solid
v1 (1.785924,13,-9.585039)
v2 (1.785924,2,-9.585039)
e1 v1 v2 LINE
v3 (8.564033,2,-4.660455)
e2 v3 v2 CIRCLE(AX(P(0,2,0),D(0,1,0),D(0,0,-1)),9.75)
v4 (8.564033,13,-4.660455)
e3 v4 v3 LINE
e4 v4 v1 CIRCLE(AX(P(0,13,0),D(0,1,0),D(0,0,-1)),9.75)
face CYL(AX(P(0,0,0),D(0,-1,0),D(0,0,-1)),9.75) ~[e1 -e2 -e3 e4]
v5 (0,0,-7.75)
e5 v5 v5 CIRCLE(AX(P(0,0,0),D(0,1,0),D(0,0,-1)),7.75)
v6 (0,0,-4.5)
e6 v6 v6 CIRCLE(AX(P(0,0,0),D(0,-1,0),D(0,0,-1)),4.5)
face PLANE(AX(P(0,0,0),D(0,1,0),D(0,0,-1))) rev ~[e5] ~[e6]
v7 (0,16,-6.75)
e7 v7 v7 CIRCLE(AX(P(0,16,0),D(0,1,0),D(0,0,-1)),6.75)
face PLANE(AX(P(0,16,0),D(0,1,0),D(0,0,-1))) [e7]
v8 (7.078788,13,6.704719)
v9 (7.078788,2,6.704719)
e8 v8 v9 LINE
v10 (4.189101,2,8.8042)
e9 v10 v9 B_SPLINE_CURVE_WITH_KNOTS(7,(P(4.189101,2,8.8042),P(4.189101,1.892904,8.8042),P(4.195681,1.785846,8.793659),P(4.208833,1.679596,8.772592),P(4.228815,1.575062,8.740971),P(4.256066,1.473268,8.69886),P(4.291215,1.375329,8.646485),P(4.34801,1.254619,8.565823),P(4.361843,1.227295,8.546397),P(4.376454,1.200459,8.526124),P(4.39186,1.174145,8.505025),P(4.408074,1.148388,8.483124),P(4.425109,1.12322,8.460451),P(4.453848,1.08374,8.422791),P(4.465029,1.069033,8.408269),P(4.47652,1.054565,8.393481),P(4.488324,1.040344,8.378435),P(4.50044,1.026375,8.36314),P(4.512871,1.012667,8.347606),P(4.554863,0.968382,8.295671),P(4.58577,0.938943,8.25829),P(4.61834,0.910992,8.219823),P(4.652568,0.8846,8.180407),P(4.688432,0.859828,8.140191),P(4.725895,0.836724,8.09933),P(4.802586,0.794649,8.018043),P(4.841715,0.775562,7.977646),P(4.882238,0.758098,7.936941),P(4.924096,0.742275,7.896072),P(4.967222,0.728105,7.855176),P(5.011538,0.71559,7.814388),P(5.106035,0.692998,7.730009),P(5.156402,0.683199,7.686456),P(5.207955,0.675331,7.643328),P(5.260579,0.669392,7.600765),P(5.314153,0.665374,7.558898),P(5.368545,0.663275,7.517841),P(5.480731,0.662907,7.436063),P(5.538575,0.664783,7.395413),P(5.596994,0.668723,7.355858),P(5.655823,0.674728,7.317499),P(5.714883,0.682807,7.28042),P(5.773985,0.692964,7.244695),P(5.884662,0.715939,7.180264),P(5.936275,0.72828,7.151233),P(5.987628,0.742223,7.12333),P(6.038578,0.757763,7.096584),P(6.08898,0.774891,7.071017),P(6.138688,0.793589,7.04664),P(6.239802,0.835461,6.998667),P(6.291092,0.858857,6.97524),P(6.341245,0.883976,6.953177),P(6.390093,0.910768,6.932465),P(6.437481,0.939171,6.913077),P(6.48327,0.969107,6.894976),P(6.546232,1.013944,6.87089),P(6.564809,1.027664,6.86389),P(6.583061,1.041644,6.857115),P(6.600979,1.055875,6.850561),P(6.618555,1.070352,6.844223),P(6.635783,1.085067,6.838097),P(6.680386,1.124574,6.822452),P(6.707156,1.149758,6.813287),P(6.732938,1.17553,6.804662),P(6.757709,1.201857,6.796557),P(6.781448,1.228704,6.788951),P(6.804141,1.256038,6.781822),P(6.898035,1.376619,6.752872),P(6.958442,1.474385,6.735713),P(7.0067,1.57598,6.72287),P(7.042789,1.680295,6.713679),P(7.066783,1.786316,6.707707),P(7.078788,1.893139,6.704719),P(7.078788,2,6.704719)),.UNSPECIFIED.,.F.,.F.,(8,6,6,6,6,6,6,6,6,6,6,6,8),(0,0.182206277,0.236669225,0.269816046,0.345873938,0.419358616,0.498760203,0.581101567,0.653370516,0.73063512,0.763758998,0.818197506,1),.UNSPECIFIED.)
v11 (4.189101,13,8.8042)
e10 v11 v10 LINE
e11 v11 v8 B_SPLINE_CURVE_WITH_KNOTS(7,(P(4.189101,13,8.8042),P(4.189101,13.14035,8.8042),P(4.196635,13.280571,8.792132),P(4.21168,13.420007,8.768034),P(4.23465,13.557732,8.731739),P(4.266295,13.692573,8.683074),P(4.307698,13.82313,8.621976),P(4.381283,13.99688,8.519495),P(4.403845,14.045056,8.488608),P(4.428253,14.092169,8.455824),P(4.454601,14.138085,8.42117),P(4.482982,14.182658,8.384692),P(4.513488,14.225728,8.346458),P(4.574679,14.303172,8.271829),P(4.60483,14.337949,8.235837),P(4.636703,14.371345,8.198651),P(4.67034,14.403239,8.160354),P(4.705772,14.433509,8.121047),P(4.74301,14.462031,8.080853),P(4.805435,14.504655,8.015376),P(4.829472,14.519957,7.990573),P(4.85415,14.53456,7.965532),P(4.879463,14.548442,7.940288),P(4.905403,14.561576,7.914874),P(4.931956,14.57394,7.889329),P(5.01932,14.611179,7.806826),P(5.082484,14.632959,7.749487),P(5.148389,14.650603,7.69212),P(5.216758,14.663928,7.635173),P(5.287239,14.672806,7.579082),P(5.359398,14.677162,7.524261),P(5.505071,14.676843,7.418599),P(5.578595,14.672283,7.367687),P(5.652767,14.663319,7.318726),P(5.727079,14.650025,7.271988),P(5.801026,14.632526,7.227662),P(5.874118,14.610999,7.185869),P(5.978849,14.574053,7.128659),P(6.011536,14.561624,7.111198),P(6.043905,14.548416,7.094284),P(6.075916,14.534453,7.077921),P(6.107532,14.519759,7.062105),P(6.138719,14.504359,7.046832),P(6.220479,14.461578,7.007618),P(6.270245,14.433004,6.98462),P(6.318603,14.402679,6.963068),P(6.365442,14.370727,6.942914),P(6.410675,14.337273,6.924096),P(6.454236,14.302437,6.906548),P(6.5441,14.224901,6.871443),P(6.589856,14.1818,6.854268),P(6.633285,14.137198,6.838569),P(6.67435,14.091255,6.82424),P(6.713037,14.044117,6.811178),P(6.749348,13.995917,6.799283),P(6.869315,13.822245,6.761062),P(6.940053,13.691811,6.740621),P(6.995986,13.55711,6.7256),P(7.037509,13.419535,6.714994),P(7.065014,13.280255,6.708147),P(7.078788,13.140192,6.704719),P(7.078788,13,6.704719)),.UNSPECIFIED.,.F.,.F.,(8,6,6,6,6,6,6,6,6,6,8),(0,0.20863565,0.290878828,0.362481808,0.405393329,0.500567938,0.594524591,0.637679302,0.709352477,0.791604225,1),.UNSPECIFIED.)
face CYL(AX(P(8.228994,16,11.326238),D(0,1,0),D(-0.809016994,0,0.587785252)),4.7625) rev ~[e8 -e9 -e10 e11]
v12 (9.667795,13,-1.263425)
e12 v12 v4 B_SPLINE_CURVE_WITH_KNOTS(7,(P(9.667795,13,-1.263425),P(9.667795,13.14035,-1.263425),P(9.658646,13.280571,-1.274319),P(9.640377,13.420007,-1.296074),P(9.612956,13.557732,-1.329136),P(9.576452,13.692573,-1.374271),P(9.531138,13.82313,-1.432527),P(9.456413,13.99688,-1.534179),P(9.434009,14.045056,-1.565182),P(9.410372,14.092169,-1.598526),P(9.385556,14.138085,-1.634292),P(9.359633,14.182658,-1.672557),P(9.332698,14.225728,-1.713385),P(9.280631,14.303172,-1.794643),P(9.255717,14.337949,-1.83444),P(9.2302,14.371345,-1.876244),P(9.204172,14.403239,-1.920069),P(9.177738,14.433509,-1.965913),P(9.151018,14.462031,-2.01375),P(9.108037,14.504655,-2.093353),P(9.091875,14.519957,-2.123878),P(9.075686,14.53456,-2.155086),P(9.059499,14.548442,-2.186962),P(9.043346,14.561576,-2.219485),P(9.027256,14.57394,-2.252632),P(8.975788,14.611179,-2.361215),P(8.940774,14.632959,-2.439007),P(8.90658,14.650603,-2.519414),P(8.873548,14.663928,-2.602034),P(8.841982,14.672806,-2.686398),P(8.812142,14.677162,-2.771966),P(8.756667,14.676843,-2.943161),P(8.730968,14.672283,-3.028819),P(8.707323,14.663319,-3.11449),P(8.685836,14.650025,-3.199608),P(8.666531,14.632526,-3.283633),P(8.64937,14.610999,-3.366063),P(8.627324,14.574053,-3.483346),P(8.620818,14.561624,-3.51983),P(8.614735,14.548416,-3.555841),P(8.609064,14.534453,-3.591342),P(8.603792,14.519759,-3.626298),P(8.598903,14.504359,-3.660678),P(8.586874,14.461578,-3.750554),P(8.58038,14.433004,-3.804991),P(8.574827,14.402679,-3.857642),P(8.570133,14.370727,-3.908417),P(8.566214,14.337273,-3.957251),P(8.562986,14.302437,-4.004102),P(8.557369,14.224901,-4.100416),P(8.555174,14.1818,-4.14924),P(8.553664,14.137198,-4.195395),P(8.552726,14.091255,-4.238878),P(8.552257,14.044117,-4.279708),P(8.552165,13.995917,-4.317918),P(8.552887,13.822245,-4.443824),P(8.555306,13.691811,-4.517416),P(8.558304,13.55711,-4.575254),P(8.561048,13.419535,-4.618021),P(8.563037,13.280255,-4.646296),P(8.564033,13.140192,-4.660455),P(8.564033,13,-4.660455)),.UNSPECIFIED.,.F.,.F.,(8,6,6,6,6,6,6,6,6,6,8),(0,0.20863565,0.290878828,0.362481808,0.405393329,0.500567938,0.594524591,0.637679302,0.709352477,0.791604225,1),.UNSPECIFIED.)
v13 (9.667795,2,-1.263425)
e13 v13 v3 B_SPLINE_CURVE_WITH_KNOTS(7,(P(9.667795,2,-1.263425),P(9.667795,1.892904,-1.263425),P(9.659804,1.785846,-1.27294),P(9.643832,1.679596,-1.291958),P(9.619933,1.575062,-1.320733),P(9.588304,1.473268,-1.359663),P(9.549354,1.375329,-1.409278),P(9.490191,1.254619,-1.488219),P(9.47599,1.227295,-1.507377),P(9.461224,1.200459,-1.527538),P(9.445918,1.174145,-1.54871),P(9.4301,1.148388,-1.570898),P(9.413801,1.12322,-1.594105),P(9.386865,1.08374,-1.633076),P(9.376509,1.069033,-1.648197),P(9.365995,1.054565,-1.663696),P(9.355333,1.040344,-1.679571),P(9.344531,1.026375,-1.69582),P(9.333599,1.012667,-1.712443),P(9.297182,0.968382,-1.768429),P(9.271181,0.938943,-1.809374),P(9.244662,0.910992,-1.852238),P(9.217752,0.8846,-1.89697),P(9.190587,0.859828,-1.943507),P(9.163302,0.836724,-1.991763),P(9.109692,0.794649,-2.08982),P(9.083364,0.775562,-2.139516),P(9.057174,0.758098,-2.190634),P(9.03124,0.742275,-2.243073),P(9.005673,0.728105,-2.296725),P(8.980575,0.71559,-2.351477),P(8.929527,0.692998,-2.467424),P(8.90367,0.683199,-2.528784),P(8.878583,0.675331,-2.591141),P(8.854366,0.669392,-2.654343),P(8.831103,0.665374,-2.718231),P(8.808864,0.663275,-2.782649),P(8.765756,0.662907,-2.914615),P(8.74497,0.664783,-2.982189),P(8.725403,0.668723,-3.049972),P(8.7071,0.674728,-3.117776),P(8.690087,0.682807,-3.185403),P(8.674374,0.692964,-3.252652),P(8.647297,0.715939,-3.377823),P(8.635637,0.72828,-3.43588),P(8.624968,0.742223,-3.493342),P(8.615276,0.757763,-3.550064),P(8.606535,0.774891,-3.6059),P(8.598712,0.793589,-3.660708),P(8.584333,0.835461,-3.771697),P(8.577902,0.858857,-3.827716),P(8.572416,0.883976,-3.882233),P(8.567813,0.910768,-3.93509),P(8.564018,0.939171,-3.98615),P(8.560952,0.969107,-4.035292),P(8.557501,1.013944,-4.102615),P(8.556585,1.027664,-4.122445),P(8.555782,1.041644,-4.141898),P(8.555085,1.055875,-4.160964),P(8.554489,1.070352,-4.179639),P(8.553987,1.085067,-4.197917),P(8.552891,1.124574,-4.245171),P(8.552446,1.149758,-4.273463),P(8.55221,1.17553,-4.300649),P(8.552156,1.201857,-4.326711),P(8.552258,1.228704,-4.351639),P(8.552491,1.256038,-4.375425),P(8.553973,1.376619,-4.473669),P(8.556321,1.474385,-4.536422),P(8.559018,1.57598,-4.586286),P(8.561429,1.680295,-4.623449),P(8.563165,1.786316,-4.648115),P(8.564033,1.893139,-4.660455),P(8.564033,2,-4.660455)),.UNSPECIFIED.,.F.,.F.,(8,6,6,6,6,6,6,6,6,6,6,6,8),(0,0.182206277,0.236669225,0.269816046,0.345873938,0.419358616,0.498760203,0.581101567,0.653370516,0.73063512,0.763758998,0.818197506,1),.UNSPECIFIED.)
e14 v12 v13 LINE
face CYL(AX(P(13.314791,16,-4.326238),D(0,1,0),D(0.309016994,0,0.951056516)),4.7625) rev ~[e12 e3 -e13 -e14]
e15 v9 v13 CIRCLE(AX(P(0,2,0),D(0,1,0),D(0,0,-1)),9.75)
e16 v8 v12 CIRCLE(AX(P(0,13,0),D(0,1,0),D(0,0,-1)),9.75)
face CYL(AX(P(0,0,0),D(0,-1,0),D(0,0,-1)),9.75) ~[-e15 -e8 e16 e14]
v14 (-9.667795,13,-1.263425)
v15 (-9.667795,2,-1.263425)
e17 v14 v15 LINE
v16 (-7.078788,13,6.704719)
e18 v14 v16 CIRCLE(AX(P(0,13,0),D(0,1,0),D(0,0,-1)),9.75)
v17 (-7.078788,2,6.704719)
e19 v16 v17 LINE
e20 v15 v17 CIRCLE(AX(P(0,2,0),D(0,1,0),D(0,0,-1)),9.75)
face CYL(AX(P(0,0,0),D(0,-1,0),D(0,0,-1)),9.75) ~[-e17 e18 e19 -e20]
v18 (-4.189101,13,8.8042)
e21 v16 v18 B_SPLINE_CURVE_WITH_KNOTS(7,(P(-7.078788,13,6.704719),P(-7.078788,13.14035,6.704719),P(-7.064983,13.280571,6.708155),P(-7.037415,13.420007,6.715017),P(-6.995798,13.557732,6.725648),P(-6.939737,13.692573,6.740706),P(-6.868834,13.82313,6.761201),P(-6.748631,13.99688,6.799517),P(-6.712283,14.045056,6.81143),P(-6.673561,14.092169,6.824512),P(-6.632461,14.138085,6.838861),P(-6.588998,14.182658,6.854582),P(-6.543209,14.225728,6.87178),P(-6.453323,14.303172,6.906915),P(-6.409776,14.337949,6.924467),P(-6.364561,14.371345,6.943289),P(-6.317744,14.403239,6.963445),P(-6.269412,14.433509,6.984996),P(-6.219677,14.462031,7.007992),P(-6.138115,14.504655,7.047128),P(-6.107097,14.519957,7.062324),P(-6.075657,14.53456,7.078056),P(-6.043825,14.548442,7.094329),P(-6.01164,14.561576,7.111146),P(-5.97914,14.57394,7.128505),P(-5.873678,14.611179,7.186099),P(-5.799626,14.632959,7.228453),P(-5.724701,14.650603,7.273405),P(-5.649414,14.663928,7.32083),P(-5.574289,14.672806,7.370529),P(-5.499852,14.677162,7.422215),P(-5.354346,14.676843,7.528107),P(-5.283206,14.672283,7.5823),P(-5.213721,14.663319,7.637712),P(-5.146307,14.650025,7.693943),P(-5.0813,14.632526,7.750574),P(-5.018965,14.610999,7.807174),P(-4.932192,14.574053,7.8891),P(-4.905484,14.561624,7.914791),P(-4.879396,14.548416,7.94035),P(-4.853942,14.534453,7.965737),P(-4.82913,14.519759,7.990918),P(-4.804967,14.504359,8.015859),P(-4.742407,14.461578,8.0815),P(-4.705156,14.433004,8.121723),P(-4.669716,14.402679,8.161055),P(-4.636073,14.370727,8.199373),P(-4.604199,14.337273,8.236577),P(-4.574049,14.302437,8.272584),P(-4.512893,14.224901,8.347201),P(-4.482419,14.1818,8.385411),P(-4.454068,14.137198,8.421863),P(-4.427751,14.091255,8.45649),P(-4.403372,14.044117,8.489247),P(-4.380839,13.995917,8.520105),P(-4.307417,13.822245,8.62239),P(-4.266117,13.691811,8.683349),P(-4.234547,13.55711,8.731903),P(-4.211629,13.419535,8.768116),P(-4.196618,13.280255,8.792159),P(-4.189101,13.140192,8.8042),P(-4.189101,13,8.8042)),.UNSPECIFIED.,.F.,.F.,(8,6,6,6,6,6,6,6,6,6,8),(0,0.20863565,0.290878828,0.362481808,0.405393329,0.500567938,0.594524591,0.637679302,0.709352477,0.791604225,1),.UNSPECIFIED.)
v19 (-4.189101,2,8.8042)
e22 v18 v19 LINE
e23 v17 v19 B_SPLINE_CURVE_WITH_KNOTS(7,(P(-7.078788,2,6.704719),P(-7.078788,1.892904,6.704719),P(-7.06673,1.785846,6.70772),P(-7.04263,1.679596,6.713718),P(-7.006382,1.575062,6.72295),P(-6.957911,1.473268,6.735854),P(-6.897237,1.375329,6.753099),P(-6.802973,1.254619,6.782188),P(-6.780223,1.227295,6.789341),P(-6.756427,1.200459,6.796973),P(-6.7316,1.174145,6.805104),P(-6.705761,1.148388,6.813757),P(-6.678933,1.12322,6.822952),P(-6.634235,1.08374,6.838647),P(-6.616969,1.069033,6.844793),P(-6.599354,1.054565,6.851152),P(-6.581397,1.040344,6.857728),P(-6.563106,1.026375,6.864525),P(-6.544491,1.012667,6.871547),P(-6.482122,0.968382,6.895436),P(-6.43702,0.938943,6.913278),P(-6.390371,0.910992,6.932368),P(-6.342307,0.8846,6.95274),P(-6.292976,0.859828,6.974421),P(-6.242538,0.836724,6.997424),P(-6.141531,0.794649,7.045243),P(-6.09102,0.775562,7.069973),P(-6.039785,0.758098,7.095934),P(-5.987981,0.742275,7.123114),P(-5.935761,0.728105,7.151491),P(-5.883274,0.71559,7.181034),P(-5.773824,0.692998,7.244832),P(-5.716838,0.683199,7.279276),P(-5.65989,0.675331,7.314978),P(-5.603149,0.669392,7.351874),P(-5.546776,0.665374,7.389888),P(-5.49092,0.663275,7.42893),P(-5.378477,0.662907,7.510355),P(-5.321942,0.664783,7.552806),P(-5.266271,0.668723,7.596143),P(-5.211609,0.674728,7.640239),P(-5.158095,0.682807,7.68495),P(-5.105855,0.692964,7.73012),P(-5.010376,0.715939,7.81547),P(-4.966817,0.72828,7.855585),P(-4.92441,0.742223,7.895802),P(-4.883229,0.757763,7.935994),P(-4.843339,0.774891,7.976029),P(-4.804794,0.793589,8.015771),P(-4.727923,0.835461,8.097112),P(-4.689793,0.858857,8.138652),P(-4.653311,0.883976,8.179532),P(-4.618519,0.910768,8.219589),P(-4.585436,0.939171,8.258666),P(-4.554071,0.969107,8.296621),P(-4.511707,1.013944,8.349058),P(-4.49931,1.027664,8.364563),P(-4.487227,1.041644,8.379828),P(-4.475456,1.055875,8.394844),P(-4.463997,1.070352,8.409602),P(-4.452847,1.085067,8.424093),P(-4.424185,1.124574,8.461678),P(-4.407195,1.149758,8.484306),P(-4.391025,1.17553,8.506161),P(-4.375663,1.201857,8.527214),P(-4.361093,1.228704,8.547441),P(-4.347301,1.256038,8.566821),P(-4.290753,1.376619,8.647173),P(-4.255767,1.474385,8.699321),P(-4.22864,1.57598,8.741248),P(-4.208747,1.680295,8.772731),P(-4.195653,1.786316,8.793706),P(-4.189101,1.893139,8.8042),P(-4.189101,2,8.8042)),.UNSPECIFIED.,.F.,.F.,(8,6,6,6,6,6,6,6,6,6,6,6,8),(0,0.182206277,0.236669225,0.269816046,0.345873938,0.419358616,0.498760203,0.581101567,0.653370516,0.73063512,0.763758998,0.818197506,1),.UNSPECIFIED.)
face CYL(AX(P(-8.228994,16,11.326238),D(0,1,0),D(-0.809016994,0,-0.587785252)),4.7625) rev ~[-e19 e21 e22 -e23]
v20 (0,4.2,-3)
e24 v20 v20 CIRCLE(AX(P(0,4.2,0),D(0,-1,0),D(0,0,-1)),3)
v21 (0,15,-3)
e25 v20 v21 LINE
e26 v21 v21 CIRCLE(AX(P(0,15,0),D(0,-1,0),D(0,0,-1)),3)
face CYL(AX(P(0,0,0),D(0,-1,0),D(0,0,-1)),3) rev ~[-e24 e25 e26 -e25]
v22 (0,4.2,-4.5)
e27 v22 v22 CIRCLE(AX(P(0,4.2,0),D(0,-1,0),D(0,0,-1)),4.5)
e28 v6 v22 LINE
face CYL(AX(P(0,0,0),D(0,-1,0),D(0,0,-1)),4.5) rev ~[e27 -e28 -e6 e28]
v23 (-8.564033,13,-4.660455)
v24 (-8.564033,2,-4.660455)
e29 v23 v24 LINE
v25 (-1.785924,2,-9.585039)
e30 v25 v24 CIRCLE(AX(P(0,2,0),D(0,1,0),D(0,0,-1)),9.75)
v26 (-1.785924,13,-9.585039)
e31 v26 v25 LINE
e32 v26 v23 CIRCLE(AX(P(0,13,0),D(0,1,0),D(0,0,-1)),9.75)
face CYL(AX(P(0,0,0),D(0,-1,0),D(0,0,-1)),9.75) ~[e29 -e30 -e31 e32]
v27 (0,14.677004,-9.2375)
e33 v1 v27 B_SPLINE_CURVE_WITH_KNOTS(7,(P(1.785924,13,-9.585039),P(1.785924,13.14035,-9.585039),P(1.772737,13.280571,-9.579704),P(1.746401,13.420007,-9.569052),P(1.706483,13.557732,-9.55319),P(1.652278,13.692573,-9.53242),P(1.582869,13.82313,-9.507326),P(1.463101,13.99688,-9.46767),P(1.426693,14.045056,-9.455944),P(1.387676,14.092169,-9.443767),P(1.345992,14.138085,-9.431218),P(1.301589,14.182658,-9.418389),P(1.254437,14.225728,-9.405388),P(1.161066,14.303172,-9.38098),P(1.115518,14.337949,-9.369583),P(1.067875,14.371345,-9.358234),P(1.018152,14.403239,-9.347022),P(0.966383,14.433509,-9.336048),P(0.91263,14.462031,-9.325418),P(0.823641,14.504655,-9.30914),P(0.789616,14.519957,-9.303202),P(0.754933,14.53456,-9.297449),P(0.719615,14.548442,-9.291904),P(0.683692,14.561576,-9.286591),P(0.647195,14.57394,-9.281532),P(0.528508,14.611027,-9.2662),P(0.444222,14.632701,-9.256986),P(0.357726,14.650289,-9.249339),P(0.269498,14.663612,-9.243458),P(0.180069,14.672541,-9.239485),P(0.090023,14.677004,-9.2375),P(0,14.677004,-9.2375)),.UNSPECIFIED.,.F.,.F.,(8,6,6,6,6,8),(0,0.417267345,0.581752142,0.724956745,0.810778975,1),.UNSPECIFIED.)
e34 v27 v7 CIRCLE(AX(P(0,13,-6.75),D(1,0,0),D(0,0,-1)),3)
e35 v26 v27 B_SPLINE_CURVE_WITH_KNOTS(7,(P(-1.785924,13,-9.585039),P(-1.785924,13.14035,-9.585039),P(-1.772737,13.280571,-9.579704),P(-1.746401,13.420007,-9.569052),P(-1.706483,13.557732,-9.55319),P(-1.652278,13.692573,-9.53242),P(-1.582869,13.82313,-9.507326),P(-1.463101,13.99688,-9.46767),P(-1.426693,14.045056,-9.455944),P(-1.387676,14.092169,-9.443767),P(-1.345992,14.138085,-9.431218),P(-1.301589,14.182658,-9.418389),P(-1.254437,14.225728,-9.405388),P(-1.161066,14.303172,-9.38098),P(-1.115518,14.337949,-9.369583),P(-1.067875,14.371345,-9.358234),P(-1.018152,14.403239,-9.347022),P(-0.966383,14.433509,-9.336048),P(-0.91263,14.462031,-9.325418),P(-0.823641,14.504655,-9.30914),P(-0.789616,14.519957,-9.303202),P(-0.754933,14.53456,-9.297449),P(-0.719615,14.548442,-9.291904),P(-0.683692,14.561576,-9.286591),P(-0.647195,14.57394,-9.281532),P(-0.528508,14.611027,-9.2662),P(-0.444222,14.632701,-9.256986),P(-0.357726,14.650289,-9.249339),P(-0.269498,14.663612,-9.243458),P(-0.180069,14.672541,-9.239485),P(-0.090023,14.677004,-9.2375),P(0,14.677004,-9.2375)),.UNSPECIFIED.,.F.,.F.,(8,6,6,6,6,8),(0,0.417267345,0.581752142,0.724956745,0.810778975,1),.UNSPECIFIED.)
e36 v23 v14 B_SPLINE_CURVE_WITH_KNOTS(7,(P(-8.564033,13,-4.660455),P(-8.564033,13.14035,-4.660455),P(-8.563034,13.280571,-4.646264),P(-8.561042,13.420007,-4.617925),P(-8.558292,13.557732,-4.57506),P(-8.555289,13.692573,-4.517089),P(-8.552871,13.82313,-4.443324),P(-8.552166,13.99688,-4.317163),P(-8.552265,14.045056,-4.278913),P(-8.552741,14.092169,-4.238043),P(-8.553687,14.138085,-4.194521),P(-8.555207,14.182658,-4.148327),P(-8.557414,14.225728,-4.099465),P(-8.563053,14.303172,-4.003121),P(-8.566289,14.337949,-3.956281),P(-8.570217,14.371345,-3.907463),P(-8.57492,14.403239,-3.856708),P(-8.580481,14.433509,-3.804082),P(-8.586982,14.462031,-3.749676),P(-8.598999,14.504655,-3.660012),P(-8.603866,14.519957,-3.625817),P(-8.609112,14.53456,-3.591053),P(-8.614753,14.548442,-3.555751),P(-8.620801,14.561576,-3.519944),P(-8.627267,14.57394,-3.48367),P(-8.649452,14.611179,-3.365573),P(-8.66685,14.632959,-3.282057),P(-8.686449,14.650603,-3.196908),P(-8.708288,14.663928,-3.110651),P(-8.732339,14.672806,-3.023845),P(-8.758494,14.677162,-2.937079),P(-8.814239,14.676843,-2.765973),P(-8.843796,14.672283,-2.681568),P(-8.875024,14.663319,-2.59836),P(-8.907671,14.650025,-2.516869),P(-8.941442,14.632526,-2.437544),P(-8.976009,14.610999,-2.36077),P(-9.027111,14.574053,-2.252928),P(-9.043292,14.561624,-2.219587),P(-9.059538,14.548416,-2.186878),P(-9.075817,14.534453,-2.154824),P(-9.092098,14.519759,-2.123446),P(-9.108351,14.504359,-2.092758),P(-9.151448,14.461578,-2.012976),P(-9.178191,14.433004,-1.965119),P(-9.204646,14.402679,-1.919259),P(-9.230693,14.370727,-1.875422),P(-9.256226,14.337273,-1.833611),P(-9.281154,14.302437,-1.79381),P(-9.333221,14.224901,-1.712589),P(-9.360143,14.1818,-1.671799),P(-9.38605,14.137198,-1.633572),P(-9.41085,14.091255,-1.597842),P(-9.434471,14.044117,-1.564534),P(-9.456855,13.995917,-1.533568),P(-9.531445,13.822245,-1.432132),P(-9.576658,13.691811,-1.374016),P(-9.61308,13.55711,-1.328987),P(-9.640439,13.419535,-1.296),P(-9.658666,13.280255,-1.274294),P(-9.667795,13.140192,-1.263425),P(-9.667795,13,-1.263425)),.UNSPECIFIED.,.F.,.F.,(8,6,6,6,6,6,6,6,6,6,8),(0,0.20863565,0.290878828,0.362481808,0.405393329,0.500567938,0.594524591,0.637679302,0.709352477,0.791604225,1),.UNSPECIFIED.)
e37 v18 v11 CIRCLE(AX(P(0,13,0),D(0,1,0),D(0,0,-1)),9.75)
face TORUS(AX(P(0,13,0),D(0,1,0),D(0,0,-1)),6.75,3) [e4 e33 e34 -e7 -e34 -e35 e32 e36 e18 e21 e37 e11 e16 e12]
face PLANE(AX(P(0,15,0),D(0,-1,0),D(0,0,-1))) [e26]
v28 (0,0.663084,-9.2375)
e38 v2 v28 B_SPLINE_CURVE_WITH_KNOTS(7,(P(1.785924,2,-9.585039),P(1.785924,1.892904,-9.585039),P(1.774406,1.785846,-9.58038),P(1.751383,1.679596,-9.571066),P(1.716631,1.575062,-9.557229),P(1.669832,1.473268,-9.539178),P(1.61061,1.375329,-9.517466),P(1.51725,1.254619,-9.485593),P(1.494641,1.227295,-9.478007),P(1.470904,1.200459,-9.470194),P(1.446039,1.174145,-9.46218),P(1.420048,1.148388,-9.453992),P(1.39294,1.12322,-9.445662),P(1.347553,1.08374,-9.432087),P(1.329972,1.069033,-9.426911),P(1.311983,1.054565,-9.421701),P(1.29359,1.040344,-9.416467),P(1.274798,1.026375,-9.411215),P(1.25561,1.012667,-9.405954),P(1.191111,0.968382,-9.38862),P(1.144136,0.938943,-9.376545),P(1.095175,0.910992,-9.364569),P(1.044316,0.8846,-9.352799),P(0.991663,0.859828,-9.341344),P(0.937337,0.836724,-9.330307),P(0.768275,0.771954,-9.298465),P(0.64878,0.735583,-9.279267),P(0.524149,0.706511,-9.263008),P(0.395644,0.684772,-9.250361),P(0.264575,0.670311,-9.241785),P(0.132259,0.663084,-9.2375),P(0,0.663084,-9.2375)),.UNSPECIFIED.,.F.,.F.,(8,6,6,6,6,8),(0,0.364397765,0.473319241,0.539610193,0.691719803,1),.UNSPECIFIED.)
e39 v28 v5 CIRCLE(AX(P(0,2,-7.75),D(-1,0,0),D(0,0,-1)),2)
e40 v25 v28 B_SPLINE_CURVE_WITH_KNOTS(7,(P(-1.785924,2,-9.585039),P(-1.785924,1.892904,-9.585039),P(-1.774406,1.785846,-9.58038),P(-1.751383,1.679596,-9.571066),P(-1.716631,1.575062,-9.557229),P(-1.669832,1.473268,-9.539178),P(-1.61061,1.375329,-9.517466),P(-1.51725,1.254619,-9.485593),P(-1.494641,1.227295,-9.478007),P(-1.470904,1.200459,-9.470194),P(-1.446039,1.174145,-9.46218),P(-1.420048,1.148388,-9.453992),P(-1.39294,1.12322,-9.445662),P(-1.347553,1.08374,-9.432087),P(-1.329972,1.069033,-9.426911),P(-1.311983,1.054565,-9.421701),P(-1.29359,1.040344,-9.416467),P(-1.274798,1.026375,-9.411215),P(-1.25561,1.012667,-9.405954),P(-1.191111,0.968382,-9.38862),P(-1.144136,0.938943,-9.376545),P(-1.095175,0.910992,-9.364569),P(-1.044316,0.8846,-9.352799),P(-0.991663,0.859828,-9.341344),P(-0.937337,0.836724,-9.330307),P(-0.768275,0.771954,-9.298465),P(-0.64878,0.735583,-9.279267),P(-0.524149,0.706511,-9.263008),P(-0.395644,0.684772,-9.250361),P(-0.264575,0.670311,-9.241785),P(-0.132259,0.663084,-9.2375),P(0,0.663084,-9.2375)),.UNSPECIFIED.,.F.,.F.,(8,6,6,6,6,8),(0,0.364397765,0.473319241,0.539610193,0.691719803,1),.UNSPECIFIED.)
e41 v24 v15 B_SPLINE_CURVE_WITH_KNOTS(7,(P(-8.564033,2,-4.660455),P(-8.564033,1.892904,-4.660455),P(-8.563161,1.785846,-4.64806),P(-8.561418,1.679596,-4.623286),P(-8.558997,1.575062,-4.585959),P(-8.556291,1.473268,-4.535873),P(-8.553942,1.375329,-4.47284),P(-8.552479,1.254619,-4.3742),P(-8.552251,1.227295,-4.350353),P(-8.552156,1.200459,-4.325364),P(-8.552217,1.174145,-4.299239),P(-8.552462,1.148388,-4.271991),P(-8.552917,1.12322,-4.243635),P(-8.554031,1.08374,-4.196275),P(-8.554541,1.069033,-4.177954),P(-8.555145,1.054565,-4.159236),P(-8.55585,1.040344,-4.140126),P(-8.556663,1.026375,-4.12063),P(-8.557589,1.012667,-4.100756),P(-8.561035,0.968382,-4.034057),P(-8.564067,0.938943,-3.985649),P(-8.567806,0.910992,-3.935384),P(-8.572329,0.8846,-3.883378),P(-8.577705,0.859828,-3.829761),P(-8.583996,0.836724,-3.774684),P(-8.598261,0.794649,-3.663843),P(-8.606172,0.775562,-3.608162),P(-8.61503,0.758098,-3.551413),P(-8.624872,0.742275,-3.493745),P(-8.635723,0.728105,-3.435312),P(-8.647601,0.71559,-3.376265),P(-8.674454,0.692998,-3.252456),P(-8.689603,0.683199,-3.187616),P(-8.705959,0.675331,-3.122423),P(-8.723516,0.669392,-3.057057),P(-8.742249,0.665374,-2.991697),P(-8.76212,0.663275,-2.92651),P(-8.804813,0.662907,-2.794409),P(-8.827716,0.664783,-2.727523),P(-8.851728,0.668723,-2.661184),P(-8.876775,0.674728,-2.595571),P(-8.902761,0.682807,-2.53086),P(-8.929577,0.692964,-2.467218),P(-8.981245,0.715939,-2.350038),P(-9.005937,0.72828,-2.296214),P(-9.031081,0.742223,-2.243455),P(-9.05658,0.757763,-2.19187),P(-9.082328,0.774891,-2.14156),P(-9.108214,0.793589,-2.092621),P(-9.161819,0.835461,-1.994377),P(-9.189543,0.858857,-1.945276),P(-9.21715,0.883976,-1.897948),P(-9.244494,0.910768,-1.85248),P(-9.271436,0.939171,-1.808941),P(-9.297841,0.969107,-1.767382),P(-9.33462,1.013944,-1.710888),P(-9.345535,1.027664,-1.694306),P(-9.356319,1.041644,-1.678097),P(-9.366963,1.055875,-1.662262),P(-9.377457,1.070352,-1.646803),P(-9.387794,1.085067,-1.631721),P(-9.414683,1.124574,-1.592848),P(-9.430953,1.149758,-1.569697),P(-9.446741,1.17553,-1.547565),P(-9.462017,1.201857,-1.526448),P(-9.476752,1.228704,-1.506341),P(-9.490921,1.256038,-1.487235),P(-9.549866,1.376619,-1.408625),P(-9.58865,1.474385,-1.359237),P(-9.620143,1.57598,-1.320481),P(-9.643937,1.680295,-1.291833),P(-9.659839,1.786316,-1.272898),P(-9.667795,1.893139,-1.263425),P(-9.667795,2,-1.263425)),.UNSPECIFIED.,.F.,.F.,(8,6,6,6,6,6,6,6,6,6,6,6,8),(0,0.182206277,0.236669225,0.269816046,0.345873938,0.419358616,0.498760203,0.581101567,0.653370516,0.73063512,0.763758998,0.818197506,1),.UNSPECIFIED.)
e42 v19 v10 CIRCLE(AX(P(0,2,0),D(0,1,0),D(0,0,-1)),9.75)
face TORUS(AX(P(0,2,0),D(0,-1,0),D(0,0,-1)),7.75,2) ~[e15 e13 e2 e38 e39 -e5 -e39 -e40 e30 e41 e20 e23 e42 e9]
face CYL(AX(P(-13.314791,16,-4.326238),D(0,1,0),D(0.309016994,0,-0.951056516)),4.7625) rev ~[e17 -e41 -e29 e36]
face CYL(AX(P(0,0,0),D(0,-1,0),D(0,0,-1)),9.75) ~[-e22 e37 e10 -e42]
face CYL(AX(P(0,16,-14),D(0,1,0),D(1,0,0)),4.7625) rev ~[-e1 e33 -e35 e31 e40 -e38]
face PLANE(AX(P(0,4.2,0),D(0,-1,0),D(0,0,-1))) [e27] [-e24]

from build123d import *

# Parameters (mm, degrees)
SKETCH1_R           = 9.75
BOSS_EXTRUDE1_DEPTH = 16
SKETCH2_R           = 3
CUT_EXTRUDE1_DEPTH  = 15
SKETCH5_R           = 4.5
CUT_EXTRUDE2_DEPTH  = 4.2
FILLET1_R           = 3
FILLET2_R           = 2
SKETCH11_R          = 4.7625
CUT_EXTRUDE4_DEPTH  = 17
CIRPATTERN3_COUNT   = 5


with BuildPart() as part:
    # Sketch1 → Boss-Extrude1 (new body)
    with BuildSketch(Plane(origin=(0, 0, 0), x_dir=(1, 0, 0), z_dir=(0, 1, 0))):
        with Locations(Location((0, 0, 0), (0, 0, 90))):  # turned: the seam where the file's is
            Circle(SKETCH1_R)
    extrude(amount=BOSS_EXTRUDE1_DEPTH)

    # Sketch2 → Cut-Extrude1 (cut)
    with BuildSketch(Plane.XZ):
        with Locations(Location((0, 0, 0), (0, 0, 270))):  # turned: the seam where the file's is
            Circle(SKETCH2_R)
    extrude(amount=-CUT_EXTRUDE1_DEPTH, mode=Mode.SUBTRACT)

    # Sketch5 → Cut-Extrude2 (cut)
    with BuildSketch(Plane.XZ):
        with Locations(Location((0, 0, 0), (0, 0, 270))):  # turned: the seam where the file's is
            Circle(SKETCH5_R)
    extrude(amount=-CUT_EXTRUDE2_DEPTH, mode=Mode.SUBTRACT)

    # Fillet1
    fillet1_edges = [part.edges().sort_by_distance(p)[0] for p in [
        (0, 16, 9.75),
    ]]
    fillet(fillet1_edges, radius=FILLET1_R)

    # Fillet2
    fillet2_edges = [part.edges().sort_by_distance(p)[0] for p in [
        (0, 0, 9.75),
    ]]
    fillet(fillet2_edges, radius=FILLET2_R)

    # Sketch11 → Cut-Extrude4 (cut, through all)
    with BuildSketch(Plane(origin=(0, 16, 0), x_dir=(1, 0, 0), z_dir=(0, 1, 0))):
        with Locations((0, 14)):
            Circle(SKETCH11_R)
    cut_extrude4 = extrude(amount=-CUT_EXTRUDE4_DEPTH, mode=Mode.SUBTRACT)

    # CirPattern3: Cut-Extrude4 ×5 about axis
    cirpattern3_axis = Axis((0, 0, 0), (0, 1, 0))
    for i in range(1, CIRPATTERN3_COUNT):
        add(cut_extrude4.rotate(cirpattern3_axis, i * 360 / CIRPATTERN3_COUNT), mode=Mode.SUBTRACT)


solid = part.part
